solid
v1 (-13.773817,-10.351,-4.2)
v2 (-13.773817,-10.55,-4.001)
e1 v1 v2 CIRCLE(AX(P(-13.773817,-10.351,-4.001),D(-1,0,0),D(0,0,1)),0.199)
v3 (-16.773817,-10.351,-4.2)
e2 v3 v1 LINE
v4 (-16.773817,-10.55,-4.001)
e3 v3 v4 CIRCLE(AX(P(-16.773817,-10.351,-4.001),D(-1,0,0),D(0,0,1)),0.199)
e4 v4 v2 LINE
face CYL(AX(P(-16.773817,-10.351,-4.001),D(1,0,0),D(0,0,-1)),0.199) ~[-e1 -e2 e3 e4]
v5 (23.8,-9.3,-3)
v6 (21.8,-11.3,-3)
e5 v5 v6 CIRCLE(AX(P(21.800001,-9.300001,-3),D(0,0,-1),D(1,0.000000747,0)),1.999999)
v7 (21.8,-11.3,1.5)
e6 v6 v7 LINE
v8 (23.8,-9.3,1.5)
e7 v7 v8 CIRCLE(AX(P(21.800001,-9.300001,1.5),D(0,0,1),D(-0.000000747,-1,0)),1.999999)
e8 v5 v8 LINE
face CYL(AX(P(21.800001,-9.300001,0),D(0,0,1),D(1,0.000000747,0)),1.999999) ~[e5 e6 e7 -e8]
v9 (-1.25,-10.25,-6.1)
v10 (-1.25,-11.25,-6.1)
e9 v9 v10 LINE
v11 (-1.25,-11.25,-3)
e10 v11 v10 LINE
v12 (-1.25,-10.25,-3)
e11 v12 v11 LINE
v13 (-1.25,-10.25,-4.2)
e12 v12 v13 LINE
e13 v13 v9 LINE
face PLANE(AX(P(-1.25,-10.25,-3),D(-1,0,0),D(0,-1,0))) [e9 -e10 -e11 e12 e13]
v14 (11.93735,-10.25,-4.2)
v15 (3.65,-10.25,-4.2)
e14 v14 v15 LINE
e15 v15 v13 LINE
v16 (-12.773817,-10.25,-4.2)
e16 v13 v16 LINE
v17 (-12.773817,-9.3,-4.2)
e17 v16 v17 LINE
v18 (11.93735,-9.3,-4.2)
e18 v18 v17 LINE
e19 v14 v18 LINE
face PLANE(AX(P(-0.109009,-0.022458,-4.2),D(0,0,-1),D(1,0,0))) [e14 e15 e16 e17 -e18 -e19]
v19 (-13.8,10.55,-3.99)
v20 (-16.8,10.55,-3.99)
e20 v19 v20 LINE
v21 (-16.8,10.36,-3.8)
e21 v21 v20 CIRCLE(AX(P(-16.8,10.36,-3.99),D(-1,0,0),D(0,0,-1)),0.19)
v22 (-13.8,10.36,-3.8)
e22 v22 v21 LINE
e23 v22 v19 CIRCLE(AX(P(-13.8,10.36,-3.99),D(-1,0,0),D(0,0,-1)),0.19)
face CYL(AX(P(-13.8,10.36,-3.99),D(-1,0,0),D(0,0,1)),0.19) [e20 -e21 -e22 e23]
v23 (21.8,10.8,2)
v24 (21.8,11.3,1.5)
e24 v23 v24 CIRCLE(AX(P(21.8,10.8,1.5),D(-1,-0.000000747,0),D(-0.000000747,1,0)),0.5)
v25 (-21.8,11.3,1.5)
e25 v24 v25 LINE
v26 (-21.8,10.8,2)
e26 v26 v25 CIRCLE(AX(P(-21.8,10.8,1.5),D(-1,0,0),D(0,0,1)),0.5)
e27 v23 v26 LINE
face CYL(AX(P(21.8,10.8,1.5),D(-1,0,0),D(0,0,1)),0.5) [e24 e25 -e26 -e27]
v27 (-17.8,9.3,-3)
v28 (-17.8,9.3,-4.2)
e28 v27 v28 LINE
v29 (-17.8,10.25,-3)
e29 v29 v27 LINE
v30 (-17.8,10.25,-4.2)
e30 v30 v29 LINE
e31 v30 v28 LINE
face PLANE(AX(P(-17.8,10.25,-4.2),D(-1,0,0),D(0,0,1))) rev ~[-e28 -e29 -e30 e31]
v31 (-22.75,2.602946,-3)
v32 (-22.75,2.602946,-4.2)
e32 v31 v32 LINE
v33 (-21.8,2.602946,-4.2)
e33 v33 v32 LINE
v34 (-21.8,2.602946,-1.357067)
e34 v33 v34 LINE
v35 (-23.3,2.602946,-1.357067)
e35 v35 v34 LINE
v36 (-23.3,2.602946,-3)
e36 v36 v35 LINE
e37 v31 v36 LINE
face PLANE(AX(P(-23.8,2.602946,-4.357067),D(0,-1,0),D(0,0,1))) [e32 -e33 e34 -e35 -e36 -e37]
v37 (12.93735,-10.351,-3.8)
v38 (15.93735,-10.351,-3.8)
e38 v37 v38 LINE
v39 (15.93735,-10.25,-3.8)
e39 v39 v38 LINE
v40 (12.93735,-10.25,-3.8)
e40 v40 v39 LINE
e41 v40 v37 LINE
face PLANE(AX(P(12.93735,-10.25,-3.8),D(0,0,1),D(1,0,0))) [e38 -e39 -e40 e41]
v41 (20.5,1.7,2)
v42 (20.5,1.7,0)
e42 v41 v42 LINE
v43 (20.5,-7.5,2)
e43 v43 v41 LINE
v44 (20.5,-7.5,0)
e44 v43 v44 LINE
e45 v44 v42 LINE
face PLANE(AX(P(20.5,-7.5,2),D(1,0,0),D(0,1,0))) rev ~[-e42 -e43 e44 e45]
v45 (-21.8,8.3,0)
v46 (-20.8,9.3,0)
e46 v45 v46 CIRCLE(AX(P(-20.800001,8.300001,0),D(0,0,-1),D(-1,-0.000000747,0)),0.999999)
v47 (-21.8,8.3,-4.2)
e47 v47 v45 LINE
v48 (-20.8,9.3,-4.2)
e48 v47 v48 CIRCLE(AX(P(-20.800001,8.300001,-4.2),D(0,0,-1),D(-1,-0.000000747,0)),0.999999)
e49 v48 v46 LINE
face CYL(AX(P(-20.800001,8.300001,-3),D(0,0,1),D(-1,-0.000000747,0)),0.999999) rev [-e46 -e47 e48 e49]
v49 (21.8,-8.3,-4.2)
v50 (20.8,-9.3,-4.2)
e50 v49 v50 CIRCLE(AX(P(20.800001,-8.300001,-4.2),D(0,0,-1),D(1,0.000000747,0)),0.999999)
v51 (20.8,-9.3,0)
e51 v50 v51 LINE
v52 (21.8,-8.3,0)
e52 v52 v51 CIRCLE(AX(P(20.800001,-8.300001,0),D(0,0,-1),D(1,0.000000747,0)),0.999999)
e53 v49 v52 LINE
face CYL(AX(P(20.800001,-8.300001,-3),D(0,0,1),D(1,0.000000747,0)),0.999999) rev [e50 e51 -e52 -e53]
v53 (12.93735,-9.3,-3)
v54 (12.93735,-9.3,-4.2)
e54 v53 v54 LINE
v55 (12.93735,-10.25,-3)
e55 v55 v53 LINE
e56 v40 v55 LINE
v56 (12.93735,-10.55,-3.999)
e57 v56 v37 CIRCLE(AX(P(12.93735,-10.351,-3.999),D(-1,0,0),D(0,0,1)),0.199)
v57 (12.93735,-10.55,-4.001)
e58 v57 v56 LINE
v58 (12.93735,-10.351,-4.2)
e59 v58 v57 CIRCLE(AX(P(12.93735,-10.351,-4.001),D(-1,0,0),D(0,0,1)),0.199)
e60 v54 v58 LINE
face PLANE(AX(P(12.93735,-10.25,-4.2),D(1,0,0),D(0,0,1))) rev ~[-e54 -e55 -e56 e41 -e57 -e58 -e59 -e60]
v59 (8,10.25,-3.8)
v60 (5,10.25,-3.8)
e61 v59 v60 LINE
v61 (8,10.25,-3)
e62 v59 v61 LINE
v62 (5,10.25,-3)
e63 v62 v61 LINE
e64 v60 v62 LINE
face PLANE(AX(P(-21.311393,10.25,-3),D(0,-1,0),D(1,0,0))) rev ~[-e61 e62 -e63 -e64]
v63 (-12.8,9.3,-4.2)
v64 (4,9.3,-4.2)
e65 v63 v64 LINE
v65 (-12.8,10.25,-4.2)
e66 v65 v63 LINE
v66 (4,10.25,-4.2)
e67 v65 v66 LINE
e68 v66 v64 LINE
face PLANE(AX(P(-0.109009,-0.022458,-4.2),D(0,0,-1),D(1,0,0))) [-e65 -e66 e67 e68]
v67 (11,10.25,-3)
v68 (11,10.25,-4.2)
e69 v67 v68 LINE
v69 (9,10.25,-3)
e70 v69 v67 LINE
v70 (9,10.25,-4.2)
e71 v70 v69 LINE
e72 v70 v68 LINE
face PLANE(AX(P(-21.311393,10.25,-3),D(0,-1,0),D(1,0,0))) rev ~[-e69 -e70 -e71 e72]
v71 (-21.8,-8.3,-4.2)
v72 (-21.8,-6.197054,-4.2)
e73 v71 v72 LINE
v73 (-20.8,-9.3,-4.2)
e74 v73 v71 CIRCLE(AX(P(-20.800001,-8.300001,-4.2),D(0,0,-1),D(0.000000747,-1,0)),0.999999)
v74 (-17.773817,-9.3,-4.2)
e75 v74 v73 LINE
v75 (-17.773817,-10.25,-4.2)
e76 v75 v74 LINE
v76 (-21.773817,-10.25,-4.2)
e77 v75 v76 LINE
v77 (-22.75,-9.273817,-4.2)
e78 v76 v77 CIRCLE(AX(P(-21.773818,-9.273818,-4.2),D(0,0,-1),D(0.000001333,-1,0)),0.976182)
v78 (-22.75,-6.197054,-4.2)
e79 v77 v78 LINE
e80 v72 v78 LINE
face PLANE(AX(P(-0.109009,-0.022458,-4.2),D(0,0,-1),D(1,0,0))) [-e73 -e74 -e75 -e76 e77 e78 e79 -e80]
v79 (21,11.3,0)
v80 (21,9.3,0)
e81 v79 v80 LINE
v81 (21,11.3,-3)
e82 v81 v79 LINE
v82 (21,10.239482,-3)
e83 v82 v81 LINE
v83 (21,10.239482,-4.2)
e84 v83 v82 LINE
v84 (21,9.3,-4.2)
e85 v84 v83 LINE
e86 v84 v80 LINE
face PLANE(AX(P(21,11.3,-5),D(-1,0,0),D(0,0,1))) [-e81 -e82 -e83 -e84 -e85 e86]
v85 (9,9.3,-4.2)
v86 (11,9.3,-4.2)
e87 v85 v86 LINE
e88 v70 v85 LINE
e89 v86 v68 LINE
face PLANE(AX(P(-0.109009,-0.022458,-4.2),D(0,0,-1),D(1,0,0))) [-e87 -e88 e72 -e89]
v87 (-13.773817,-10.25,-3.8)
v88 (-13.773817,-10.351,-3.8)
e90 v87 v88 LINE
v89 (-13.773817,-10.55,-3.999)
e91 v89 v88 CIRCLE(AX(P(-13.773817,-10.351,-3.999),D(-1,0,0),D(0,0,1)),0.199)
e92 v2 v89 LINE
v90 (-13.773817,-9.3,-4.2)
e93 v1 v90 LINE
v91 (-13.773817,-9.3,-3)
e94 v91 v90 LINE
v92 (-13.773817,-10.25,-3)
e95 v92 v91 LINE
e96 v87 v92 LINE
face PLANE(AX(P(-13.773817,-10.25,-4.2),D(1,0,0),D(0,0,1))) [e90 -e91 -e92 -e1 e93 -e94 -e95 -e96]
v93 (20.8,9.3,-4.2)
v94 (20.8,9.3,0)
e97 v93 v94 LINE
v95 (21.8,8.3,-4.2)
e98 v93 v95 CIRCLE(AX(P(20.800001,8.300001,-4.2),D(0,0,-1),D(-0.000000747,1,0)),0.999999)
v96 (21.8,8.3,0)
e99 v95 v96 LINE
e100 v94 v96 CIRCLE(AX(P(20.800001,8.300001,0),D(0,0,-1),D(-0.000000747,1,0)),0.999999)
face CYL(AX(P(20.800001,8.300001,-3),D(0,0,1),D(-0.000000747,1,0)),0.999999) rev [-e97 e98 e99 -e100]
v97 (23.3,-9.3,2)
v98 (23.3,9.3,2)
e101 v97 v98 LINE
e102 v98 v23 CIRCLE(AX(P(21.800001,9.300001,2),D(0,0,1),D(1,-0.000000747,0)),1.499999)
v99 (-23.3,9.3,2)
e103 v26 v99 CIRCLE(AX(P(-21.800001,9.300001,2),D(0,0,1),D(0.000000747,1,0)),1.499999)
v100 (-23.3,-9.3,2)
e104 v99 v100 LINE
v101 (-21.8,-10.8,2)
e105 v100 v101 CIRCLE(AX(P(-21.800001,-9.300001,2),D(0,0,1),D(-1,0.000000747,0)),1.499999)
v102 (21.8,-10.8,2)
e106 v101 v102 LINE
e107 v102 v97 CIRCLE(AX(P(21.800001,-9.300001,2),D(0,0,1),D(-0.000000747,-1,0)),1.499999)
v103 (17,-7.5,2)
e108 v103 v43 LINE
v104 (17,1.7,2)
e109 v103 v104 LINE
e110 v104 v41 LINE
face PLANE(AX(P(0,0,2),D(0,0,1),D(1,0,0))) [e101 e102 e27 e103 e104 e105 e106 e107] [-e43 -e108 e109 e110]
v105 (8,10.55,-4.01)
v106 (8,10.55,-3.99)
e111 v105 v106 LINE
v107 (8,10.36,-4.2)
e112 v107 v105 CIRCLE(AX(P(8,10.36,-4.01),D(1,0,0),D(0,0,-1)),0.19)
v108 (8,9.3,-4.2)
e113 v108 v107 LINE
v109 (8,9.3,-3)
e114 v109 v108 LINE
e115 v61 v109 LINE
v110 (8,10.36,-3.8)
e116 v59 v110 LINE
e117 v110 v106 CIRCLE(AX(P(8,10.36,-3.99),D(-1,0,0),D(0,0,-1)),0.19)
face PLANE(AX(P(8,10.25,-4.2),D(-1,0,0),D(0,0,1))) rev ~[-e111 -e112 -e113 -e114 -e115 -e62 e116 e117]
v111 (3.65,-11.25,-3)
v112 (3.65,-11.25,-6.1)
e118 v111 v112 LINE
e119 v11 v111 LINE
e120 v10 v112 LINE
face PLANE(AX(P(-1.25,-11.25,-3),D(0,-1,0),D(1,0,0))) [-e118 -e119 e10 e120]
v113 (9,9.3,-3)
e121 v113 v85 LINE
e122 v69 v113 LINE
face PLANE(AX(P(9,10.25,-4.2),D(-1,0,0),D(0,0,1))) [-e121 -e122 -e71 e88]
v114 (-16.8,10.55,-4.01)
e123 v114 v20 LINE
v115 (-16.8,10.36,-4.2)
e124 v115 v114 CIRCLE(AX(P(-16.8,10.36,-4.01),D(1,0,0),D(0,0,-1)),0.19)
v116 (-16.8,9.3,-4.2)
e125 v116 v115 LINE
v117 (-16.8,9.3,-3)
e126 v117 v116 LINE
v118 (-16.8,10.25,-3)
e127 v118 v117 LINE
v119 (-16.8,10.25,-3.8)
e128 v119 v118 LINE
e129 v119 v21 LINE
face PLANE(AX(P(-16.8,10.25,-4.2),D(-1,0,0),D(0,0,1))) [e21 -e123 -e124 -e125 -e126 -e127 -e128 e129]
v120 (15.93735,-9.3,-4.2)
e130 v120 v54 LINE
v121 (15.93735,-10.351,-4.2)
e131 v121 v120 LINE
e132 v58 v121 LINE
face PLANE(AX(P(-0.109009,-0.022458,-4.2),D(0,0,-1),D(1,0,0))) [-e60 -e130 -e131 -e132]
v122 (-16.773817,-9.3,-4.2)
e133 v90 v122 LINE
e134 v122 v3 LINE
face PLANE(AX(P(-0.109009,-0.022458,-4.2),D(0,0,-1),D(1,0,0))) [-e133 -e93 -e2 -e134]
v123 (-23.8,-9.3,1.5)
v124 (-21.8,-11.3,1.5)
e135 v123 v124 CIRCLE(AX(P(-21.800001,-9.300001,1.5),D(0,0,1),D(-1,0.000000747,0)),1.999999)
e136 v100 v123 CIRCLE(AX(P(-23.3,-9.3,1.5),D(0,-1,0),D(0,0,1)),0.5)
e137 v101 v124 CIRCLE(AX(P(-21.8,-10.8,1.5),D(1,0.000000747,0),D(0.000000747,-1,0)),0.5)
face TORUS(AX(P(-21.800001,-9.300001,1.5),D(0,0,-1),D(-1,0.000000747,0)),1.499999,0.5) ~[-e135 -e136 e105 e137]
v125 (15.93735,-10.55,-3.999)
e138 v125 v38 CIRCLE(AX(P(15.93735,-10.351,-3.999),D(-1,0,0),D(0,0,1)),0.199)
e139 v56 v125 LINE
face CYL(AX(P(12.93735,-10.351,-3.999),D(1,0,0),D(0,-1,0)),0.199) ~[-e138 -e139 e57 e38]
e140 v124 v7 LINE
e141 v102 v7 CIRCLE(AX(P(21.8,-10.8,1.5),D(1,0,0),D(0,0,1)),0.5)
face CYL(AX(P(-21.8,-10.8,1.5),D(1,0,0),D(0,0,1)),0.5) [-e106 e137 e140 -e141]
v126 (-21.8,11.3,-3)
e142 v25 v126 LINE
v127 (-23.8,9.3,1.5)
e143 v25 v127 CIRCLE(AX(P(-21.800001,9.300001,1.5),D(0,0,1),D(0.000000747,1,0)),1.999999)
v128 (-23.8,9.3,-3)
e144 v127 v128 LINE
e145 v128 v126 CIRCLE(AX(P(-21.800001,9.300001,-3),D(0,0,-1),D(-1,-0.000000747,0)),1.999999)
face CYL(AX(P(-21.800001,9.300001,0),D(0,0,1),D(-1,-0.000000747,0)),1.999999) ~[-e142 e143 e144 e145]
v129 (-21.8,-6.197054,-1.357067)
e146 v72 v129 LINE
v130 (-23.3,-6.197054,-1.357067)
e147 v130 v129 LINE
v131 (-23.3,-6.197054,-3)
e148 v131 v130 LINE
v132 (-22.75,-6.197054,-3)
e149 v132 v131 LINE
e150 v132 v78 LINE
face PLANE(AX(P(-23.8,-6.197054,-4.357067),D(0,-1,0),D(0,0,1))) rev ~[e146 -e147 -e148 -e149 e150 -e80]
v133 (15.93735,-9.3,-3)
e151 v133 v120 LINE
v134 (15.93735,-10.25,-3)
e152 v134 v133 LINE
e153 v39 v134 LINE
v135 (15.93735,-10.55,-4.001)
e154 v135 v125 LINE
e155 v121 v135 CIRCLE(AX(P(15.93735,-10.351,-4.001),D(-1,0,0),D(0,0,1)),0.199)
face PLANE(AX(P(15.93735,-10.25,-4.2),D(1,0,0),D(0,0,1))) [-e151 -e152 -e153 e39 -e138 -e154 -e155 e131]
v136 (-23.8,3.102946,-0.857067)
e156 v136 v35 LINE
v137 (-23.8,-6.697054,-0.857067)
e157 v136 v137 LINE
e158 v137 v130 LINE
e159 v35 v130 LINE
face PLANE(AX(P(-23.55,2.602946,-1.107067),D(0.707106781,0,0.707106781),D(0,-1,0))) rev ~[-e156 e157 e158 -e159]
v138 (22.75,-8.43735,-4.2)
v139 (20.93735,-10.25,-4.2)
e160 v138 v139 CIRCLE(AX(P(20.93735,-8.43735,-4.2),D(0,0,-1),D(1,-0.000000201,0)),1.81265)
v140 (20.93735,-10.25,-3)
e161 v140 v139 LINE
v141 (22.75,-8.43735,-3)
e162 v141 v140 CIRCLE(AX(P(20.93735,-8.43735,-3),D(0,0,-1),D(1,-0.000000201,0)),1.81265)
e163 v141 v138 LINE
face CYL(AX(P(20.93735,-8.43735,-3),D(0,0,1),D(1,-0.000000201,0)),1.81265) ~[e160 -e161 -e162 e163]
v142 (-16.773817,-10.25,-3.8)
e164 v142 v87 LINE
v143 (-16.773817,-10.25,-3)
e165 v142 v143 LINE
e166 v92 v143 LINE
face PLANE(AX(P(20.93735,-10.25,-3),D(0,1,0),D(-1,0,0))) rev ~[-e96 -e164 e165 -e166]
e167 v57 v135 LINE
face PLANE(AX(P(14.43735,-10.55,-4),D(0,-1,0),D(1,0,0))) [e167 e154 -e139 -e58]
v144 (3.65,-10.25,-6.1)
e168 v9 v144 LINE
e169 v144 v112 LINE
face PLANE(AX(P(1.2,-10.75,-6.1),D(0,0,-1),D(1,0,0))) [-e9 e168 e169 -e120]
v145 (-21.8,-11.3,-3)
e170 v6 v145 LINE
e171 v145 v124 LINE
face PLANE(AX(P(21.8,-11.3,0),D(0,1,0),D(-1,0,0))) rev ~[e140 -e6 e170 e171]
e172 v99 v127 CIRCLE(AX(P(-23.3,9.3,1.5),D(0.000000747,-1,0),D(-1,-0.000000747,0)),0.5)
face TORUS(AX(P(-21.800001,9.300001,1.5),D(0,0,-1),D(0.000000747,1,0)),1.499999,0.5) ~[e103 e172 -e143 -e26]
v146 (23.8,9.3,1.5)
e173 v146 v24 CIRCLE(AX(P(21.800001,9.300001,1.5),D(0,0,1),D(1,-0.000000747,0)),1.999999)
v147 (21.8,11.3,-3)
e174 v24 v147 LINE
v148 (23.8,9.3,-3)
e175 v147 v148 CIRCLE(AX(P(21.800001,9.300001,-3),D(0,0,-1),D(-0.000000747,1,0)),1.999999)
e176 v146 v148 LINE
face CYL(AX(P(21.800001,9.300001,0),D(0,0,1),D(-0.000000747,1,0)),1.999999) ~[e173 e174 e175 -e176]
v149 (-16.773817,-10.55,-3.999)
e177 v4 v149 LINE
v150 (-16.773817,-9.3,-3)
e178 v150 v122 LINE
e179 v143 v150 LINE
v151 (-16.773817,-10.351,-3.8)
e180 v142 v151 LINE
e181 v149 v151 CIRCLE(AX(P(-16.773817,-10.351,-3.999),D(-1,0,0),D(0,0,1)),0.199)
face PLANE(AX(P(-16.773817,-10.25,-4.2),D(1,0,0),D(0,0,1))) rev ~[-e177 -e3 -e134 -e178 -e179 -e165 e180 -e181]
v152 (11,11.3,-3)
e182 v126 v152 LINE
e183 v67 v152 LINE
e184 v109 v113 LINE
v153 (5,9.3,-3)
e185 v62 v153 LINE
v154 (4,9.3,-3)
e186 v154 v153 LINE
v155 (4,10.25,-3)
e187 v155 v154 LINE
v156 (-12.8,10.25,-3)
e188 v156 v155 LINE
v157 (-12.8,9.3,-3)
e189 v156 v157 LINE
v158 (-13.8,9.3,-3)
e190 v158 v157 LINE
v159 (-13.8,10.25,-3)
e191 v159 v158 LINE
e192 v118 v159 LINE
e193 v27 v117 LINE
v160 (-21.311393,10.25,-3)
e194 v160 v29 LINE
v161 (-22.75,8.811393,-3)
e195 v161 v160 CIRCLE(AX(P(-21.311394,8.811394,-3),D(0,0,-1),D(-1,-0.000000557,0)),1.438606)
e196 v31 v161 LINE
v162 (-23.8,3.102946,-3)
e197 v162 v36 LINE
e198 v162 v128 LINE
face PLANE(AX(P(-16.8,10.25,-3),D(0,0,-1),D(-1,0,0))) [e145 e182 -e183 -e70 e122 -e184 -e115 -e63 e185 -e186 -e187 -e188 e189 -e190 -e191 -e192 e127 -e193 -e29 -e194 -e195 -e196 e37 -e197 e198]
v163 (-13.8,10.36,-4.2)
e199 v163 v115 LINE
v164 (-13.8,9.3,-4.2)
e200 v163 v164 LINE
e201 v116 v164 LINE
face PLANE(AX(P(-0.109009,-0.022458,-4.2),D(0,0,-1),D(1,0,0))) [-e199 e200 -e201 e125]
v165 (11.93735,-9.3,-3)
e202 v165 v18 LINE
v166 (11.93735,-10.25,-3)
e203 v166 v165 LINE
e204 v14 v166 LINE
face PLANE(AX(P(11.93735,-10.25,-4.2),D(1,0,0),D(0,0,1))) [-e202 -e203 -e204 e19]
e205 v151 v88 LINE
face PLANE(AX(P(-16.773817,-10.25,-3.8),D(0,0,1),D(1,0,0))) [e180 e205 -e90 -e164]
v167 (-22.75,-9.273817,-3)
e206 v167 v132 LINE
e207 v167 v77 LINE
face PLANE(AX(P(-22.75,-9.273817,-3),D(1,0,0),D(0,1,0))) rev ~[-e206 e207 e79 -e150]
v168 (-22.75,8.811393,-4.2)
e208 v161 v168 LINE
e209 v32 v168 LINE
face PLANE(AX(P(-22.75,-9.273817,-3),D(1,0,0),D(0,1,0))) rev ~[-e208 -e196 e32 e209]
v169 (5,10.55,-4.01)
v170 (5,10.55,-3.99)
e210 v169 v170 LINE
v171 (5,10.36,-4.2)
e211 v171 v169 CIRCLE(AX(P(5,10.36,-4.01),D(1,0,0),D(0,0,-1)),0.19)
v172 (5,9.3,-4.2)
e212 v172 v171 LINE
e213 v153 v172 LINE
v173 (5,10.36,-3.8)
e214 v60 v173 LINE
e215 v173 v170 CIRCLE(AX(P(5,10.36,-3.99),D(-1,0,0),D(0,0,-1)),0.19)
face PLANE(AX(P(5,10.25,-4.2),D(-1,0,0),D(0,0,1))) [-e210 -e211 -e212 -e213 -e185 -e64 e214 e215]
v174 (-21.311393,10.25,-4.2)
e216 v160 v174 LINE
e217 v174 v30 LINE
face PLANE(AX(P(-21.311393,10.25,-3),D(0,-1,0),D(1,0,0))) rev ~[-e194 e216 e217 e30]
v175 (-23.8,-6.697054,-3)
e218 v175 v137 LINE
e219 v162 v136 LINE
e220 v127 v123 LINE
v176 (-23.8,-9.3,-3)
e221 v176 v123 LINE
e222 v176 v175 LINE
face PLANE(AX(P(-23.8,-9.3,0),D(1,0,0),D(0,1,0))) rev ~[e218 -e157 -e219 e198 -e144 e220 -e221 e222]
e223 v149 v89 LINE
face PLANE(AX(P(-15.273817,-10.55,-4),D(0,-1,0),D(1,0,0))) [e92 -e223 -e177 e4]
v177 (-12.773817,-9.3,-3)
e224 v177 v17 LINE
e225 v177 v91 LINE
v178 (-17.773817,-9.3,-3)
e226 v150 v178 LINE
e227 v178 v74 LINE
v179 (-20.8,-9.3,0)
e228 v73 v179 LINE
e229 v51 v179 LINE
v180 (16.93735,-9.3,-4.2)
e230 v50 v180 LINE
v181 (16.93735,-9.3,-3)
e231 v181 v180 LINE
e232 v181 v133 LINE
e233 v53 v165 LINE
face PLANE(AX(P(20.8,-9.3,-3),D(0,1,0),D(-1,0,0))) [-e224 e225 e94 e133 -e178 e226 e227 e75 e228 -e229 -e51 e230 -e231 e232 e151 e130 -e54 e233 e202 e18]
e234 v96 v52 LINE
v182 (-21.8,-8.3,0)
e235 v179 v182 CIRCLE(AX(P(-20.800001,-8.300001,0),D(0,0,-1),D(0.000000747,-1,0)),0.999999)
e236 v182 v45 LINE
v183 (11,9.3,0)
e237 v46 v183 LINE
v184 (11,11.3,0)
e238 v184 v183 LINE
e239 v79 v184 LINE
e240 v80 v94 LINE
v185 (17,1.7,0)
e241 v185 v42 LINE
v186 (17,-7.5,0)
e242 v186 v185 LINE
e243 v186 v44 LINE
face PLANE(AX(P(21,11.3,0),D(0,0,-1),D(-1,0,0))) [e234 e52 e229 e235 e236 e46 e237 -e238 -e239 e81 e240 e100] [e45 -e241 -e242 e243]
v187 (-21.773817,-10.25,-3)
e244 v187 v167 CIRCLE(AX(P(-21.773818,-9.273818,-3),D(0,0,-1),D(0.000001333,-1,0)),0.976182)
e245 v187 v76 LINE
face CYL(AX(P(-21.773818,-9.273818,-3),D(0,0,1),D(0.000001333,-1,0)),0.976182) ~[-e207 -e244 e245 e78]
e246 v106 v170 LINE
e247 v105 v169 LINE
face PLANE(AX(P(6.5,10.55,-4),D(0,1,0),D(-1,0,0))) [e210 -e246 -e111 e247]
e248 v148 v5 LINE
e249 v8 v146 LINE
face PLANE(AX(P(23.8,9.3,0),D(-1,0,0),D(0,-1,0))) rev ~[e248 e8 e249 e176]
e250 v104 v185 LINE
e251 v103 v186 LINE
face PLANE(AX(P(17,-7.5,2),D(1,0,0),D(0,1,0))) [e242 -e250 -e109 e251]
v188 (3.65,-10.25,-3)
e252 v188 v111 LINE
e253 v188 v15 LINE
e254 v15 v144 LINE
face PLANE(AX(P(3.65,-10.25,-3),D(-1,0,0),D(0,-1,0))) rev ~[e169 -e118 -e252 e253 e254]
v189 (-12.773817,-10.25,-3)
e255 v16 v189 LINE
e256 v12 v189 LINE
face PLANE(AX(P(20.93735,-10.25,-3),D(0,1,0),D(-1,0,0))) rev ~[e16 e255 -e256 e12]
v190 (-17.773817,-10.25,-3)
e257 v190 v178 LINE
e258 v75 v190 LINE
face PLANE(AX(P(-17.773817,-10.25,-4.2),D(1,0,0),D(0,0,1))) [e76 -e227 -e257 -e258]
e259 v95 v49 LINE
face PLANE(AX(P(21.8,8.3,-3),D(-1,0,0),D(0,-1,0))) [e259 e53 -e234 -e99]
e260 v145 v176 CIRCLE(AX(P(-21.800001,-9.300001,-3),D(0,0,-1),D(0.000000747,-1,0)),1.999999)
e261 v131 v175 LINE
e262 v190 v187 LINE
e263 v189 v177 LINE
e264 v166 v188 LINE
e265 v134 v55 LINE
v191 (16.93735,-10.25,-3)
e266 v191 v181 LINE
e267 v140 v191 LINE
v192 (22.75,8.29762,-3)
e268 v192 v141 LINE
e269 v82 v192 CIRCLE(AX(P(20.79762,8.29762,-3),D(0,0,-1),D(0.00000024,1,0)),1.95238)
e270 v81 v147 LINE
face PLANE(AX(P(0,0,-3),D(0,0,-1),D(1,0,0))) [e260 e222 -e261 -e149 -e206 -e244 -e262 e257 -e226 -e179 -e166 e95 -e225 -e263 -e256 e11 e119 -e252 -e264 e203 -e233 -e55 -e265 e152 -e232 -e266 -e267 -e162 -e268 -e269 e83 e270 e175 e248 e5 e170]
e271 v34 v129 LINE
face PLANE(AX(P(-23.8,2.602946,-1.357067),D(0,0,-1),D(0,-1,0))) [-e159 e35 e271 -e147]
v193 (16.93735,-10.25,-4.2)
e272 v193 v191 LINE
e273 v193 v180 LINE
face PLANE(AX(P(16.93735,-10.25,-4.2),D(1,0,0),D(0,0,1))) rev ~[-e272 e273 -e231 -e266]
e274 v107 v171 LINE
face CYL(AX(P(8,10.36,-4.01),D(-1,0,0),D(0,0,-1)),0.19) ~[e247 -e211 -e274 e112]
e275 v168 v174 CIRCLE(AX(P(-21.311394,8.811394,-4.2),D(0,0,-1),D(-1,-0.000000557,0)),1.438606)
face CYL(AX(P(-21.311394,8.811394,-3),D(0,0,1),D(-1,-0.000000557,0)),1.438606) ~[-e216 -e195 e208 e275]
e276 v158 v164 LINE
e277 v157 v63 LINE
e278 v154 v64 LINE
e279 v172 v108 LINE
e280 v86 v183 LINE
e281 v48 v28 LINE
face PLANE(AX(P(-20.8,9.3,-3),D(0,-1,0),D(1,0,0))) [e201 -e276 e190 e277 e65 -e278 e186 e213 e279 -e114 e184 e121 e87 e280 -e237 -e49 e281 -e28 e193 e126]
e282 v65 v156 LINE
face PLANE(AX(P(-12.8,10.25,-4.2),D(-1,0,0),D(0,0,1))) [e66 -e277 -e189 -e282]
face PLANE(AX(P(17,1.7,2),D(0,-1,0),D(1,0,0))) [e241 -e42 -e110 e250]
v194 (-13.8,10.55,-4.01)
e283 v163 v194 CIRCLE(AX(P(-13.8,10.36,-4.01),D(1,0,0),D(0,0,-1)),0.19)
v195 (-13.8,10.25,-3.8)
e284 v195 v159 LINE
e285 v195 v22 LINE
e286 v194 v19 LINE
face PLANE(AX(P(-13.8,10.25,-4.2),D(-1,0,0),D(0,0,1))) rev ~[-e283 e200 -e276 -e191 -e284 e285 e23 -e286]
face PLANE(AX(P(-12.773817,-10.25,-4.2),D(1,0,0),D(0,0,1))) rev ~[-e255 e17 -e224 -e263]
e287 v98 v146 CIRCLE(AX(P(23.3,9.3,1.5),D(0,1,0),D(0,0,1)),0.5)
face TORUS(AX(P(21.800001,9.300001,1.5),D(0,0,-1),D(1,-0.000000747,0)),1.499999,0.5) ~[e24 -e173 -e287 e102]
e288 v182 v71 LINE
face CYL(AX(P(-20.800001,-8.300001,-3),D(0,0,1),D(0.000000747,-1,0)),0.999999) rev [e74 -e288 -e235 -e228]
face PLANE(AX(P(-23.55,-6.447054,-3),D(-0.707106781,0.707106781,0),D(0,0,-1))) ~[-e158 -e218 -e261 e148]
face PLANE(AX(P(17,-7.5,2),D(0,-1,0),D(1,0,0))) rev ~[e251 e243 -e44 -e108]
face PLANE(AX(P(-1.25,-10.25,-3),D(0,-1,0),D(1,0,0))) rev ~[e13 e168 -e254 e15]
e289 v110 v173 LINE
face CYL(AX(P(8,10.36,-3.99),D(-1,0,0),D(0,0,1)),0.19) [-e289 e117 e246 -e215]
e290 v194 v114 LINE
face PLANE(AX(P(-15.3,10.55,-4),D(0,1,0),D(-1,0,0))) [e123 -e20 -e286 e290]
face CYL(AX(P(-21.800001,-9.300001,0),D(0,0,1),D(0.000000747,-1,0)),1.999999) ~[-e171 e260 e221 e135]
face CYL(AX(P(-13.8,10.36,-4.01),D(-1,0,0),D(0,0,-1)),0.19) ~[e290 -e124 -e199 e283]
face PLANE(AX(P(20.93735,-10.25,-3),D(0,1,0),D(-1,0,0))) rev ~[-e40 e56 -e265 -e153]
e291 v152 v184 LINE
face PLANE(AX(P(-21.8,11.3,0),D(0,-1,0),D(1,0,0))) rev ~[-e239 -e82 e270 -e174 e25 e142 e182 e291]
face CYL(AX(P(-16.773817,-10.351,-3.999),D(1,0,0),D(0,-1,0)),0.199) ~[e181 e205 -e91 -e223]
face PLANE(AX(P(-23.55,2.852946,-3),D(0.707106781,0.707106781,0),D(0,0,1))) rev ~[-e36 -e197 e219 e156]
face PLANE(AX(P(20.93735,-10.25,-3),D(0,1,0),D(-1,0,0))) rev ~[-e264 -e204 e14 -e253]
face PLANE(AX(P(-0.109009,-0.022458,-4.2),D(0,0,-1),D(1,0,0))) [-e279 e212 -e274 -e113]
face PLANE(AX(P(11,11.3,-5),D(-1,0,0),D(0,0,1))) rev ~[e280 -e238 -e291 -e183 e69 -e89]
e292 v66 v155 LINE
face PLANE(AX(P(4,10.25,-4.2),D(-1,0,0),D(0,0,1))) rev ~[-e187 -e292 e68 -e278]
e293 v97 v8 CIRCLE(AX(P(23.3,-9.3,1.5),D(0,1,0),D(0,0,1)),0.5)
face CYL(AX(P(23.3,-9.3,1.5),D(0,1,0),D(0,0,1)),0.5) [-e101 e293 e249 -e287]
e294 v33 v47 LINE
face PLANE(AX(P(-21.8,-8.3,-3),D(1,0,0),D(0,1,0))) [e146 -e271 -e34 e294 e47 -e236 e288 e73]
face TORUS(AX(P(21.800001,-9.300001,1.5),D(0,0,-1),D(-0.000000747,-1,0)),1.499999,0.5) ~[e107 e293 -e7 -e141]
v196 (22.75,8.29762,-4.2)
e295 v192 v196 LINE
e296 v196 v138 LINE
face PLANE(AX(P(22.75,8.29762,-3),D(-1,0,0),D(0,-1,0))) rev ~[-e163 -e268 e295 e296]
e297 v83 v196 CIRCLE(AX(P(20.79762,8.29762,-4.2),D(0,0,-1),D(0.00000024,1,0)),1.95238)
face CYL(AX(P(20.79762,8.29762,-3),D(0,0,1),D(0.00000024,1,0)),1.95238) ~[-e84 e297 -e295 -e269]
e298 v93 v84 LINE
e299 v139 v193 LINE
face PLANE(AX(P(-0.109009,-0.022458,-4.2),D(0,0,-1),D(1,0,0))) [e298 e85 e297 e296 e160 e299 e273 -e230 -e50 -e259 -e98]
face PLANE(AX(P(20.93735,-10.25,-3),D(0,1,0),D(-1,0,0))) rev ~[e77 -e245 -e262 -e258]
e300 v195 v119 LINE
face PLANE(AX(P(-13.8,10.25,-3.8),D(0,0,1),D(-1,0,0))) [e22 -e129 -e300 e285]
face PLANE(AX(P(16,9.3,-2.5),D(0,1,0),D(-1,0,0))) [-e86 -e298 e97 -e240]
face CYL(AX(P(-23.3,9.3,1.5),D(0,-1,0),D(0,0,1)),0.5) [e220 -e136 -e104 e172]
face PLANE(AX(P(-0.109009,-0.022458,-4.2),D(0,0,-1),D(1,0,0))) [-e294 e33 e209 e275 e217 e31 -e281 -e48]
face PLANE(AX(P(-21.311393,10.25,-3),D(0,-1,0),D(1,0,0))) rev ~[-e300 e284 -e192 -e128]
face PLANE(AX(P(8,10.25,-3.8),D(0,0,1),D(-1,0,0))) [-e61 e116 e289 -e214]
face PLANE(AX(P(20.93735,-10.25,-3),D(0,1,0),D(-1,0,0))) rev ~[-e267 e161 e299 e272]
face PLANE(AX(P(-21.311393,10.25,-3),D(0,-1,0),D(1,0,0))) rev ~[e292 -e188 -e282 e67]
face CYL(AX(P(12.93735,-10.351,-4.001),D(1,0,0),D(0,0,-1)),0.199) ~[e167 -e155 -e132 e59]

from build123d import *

# Parameters (mm, degrees)
PAD_DEPTH       = 2
PAD001_DEPTH    = 3
PAD002_DEPTH    = 1.2
SKETCH004_W     = 8.8
SKETCH004_H     = 3
POCKET_DEPTH    = 2
SKETCH005_W     = 3.5
SKETCH005_H     = 9.2
POCKET001_DEPTH = 2
SKETCH006_W     = 10
SKETCH006_H     = 5
POCKET002_DEPTH = 2
CHAMFER_SIZE    = 0.5
SKETCH007_W     = 3
SKETCH007_H     = 0.4
PAD003_DEPTH    = 0.3
SKETCH008_W     = 1
SKETCH008_H     = 1.2
POCKET003_DEPTH = 1
FILLET_R        = 0.199
SKETCH009_W     = 3
SKETCH009_H     = 0.4
PAD004_DEPTH    = 0.3
FILLET001_R     = 0.19
SKETCH010_W     = 1
SKETCH010_H     = 1.2
POCKET004_DEPTH = 1
FILLET002_R     = 0.5
SKETCH011_W     = 4.9
SKETCH011_H     = 1
PAD005_DEPTH    = 3.1


with BuildPart() as part:
    # Sketch → Pad (new body)
    with BuildSketch(Plane.XY):
        with BuildLine():
            Line((-21.8, -11.3), (21.8, -11.3))
            ThreePointArc((21.8, -11.3), (23.214214, -10.714214), (23.8, -9.3))
            Line((23.8, -9.3), (23.8, 9.3))
            ThreePointArc((23.8, 9.3), (23.214214, 10.714214), (21.8, 11.3))
            Line((21.8, 11.3), (-21.8, 11.3))
            ThreePointArc((-21.8, 11.3), (-23.214214, 10.714214), (-23.8, 9.3))
            Line((-23.8, 9.3), (-23.8, -9.3))
            ThreePointArc((-23.8, -9.3), (-23.214214, -10.714214), (-21.8, -11.3))
        make_face()
    extrude(amount=PAD_DEPTH)

    # Sketch002 (on Face9 of Pad) → Pad001 (join)
    with BuildSketch(Plane(origin=(0, 0, 0), x_dir=(1, 0, 0), z_dir=(0, 0, -1))):
        with BuildLine():
            Line((-23.8, 9.3), (-23.8, -9.3))
            ThreePointArc((-23.8, -9.3), (-23.214214, -10.714214), (-21.8, -11.3))
            Line((-21.8, -11.3), (21.8, -11.3))
            ThreePointArc((21.8, -11.3), (23.214214, -10.714214), (23.8, -9.3))
            Line((23.8, -9.3), (23.8, 9.3))
            ThreePointArc((23.8, 9.3), (23.214214, 10.714214), (21.8, 11.3))
            Line((21.8, 11.3), (-21.8, 11.3))
            ThreePointArc((-21.8, 11.3), (-23.214214, 10.714214), (-23.8, 9.3))
        make_face()
        with BuildLine():
            Line((-21.8, 8.3), (-21.8, -8.3))
            ThreePointArc((-21.8, -8.3), (-21.507107, -9.007107), (-20.8, -9.3))
            Line((-20.8, -9.3), (20.8, -9.3))
            ThreePointArc((20.8, -9.3), (21.507107, -9.007107), (21.8, -8.3))
            Line((21.8, -8.3), (21.8, 8.3))
            ThreePointArc((21.8, 8.3), (21.507107, 9.007107), (20.8, 9.3))
            Line((20.8, 9.3), (-20.8, 9.3))
            ThreePointArc((-20.8, 9.3), (-21.507107, 9.007107), (-21.8, 8.3))
        make_face(mode=Mode.SUBTRACT)
    extrude(amount=PAD001_DEPTH)

    # Sketch003 (on Face1 of Pad001) → Pad002 (join)
    with BuildSketch(Plane(origin=(0, 0, -3), x_dir=(1, 0, 0), z_dir=(0, 0, -1))):
        with BuildLine():
            Line((-22.75, 9.273817), (-22.75, -8.811393))
            ThreePointArc((-22.75, -8.811393), (-22.328642, -9.828642), (-21.311393, -10.25))
            Line((-21.311393, -10.25), (20.79762, -10.25))
            ThreePointArc((20.79762, -10.25), (22.178161, -9.678161), (22.75, -8.29762))
            Line((22.75, -8.29762), (22.75, 8.43735))
            ThreePointArc((22.75, 8.43735), (22.219087, 9.719087), (20.93735, 10.25))
            Line((20.93735, 10.25), (-21.773817, 10.25))
            ThreePointArc((-21.773817, 10.25), (-22.464083, 9.964083), (-22.75, 9.273817))
        make_face()
        with BuildLine():
            Line((-21.8, 8.3), (-21.8, -8.3))
            ThreePointArc((-21.8, -8.3), (-21.507107, -9.007107), (-20.8, -9.3))
            Line((-20.8, -9.3), (20.8, -9.3))
            ThreePointArc((20.8, -9.3), (21.507107, -9.007107), (21.8, -8.3))
            Line((21.8, -8.3), (21.8, 8.3))
            ThreePointArc((21.8, 8.3), (21.507107, 9.007107), (20.8, 9.3))
            Line((20.8, 9.3), (-20.8, 9.3))
            ThreePointArc((-20.8, 9.3), (-21.507107, 9.007107), (-21.8, 8.3))
        make_face(mode=Mode.SUBTRACT)
    extrude(amount=PAD002_DEPTH)

    # Sketch004 (on Face2 of Pad002) → Pocket (cut)
    with BuildSketch(Plane(origin=(-23.8, 0, 0), x_dir=(0, -1, 0), z_dir=(-1, 0, 0))):
        with Locations((1.797054, -2.857067)):
            Rectangle(SKETCH004_W, SKETCH004_H)
    extrude(amount=-POCKET_DEPTH, mode=Mode.SUBTRACT)

    # Sketch005 (on Face21 of Pocket) → Pocket001 (cut)
    with BuildSketch(Plane.XY.offset(2)):
        with Locations((18.75, -2.9)):
            Rectangle(SKETCH005_W, SKETCH005_H)
    extrude(amount=-POCKET001_DEPTH, mode=Mode.SUBTRACT)

    # Sketch006 (on Face15 of Pocket001) → Pocket002 (cut)
    with BuildSketch(Plane(origin=(0, 11.3, 0), x_dir=(-1, 0, 0), z_dir=(0, 1, 0))):
        with Locations((-16, -2.5)):
            Rectangle(SKETCH006_W, SKETCH006_H)
    extrude(amount=-POCKET002_DEPTH, mode=Mode.SUBTRACT)

    # Chamfer
    chamfer_edges = [part.edges().sort_by_distance(p)[0] for p in [
        (-23.8, 2.602946, -2.178533),
        (-23.8, -1.797054, -1.357067),
        (-23.8, -6.197054, -2.178533),
    ]]
    chamfer(chamfer_edges, length=CHAMFER_SIZE)

    # Sketch007 (on Face11 of Chamfer) → Pad003 (join)
    with BuildSketch(Plane.XZ.offset(10.25)):
        with Locations((-15.273817, -4)):
            Rectangle(SKETCH007_W, SKETCH007_H)
        with Locations((14.43735, -4)):
            Rectangle(SKETCH007_W, SKETCH007_H)
    extrude(amount=PAD003_DEPTH)

    # Sketch008 (on Face11 of Pad003) → Pocket003 (cut)
    with BuildSketch(Plane.XZ.offset(10.25)):
        with Locations((-17.273817, -3.6)):
            Rectangle(SKETCH008_W, SKETCH008_H)
        with Locations((-13.273817, -3.6)):
            Rectangle(SKETCH008_W, SKETCH008_H)
        with Locations((16.43735, -3.6)):
            Rectangle(SKETCH008_W, SKETCH008_H)
        with Locations((12.43735, -3.6)):
            Rectangle(SKETCH008_W, SKETCH008_H)
    extrude(amount=-POCKET003_DEPTH, mode=Mode.SUBTRACT)

    # Fillet
    fillet_edges = [part.edges().sort_by_distance(p)[0] for p in [
        (-15.273817, -10.55, -3.8),
        (-15.273817, -10.55, -4.2),
        (14.43735, -10.55, -3.8),
        (14.43735, -10.55, -4.2),
    ]]
    fillet(fillet_edges, radius=FILLET_R)

    # Sketch009 (on Face65 of Fillet) → Pad004 (join)
    with BuildSketch(Plane(origin=(0, 10.25, 0), x_dir=(-1, 0, 0), z_dir=(0, 1, 0))):
        with Locations((15.3, -4)):
            Rectangle(SKETCH009_W, SKETCH009_H)
        with Locations((-6.5, -4)):
            Rectangle(SKETCH009_W, SKETCH009_H)
    extrude(amount=PAD004_DEPTH)

    # Fillet001
    fillet001_edges = [part.edges().sort_by_distance(p)[0] for p in [
        (6.5, 10.55, -3.8),
        (6.5, 10.55, -4.2),
        (-15.3, 10.55, -3.8),
        (-15.3, 10.55, -4.2),
    ]]
    fillet(fillet001_edges, radius=FILLET001_R)

    # Sketch010 (on Face4 of Fillet001) → Pocket004 (cut)
    with BuildSketch(Plane(origin=(0, 10.25, 0), x_dir=(-1, 0, 0), z_dir=(0, 1, 0))):
        with Locations((-8.5, -3.6)):
            Rectangle(SKETCH010_W, SKETCH010_H)
        with Locations((-4.5, -3.6)):
            Rectangle(SKETCH010_W, SKETCH010_H)
        with Locations((13.3, -3.6)):
            Rectangle(SKETCH010_W, SKETCH010_H)
        with Locations((17.3, -3.6)):
            Rectangle(SKETCH010_W, SKETCH010_H)
    extrude(amount=-POCKET004_DEPTH, mode=Mode.SUBTRACT)

    # Fillet002
    fillet002_edges = [part.edges().sort_by_distance(p)[0] for p in [
        (23.8, 0, 2),
        (23.214214, 10.714214, 2),
        (0, 11.3, 2),
        (-23.214214, 10.714214, 2),
        (-23.8, 0, 2),
        (-23.214214, -10.714214, 2),
        (0, -11.3, 2),
        (23.214214, -10.714214, 2),
    ]]
    fillet(fillet002_edges, radius=FILLET002_R)

    # Sketch011 (on Face4 of Fillet002) → Pad005 (join)
    with BuildSketch(Plane(origin=(0, 0, -3), x_dir=(1, 0, 0), z_dir=(0, 0, -1))):
        with Locations((1.2, 10.75)):
            Rectangle(SKETCH011_W, SKETCH011_H)
    extrude(amount=PAD005_DEPTH)


solid = part.part
